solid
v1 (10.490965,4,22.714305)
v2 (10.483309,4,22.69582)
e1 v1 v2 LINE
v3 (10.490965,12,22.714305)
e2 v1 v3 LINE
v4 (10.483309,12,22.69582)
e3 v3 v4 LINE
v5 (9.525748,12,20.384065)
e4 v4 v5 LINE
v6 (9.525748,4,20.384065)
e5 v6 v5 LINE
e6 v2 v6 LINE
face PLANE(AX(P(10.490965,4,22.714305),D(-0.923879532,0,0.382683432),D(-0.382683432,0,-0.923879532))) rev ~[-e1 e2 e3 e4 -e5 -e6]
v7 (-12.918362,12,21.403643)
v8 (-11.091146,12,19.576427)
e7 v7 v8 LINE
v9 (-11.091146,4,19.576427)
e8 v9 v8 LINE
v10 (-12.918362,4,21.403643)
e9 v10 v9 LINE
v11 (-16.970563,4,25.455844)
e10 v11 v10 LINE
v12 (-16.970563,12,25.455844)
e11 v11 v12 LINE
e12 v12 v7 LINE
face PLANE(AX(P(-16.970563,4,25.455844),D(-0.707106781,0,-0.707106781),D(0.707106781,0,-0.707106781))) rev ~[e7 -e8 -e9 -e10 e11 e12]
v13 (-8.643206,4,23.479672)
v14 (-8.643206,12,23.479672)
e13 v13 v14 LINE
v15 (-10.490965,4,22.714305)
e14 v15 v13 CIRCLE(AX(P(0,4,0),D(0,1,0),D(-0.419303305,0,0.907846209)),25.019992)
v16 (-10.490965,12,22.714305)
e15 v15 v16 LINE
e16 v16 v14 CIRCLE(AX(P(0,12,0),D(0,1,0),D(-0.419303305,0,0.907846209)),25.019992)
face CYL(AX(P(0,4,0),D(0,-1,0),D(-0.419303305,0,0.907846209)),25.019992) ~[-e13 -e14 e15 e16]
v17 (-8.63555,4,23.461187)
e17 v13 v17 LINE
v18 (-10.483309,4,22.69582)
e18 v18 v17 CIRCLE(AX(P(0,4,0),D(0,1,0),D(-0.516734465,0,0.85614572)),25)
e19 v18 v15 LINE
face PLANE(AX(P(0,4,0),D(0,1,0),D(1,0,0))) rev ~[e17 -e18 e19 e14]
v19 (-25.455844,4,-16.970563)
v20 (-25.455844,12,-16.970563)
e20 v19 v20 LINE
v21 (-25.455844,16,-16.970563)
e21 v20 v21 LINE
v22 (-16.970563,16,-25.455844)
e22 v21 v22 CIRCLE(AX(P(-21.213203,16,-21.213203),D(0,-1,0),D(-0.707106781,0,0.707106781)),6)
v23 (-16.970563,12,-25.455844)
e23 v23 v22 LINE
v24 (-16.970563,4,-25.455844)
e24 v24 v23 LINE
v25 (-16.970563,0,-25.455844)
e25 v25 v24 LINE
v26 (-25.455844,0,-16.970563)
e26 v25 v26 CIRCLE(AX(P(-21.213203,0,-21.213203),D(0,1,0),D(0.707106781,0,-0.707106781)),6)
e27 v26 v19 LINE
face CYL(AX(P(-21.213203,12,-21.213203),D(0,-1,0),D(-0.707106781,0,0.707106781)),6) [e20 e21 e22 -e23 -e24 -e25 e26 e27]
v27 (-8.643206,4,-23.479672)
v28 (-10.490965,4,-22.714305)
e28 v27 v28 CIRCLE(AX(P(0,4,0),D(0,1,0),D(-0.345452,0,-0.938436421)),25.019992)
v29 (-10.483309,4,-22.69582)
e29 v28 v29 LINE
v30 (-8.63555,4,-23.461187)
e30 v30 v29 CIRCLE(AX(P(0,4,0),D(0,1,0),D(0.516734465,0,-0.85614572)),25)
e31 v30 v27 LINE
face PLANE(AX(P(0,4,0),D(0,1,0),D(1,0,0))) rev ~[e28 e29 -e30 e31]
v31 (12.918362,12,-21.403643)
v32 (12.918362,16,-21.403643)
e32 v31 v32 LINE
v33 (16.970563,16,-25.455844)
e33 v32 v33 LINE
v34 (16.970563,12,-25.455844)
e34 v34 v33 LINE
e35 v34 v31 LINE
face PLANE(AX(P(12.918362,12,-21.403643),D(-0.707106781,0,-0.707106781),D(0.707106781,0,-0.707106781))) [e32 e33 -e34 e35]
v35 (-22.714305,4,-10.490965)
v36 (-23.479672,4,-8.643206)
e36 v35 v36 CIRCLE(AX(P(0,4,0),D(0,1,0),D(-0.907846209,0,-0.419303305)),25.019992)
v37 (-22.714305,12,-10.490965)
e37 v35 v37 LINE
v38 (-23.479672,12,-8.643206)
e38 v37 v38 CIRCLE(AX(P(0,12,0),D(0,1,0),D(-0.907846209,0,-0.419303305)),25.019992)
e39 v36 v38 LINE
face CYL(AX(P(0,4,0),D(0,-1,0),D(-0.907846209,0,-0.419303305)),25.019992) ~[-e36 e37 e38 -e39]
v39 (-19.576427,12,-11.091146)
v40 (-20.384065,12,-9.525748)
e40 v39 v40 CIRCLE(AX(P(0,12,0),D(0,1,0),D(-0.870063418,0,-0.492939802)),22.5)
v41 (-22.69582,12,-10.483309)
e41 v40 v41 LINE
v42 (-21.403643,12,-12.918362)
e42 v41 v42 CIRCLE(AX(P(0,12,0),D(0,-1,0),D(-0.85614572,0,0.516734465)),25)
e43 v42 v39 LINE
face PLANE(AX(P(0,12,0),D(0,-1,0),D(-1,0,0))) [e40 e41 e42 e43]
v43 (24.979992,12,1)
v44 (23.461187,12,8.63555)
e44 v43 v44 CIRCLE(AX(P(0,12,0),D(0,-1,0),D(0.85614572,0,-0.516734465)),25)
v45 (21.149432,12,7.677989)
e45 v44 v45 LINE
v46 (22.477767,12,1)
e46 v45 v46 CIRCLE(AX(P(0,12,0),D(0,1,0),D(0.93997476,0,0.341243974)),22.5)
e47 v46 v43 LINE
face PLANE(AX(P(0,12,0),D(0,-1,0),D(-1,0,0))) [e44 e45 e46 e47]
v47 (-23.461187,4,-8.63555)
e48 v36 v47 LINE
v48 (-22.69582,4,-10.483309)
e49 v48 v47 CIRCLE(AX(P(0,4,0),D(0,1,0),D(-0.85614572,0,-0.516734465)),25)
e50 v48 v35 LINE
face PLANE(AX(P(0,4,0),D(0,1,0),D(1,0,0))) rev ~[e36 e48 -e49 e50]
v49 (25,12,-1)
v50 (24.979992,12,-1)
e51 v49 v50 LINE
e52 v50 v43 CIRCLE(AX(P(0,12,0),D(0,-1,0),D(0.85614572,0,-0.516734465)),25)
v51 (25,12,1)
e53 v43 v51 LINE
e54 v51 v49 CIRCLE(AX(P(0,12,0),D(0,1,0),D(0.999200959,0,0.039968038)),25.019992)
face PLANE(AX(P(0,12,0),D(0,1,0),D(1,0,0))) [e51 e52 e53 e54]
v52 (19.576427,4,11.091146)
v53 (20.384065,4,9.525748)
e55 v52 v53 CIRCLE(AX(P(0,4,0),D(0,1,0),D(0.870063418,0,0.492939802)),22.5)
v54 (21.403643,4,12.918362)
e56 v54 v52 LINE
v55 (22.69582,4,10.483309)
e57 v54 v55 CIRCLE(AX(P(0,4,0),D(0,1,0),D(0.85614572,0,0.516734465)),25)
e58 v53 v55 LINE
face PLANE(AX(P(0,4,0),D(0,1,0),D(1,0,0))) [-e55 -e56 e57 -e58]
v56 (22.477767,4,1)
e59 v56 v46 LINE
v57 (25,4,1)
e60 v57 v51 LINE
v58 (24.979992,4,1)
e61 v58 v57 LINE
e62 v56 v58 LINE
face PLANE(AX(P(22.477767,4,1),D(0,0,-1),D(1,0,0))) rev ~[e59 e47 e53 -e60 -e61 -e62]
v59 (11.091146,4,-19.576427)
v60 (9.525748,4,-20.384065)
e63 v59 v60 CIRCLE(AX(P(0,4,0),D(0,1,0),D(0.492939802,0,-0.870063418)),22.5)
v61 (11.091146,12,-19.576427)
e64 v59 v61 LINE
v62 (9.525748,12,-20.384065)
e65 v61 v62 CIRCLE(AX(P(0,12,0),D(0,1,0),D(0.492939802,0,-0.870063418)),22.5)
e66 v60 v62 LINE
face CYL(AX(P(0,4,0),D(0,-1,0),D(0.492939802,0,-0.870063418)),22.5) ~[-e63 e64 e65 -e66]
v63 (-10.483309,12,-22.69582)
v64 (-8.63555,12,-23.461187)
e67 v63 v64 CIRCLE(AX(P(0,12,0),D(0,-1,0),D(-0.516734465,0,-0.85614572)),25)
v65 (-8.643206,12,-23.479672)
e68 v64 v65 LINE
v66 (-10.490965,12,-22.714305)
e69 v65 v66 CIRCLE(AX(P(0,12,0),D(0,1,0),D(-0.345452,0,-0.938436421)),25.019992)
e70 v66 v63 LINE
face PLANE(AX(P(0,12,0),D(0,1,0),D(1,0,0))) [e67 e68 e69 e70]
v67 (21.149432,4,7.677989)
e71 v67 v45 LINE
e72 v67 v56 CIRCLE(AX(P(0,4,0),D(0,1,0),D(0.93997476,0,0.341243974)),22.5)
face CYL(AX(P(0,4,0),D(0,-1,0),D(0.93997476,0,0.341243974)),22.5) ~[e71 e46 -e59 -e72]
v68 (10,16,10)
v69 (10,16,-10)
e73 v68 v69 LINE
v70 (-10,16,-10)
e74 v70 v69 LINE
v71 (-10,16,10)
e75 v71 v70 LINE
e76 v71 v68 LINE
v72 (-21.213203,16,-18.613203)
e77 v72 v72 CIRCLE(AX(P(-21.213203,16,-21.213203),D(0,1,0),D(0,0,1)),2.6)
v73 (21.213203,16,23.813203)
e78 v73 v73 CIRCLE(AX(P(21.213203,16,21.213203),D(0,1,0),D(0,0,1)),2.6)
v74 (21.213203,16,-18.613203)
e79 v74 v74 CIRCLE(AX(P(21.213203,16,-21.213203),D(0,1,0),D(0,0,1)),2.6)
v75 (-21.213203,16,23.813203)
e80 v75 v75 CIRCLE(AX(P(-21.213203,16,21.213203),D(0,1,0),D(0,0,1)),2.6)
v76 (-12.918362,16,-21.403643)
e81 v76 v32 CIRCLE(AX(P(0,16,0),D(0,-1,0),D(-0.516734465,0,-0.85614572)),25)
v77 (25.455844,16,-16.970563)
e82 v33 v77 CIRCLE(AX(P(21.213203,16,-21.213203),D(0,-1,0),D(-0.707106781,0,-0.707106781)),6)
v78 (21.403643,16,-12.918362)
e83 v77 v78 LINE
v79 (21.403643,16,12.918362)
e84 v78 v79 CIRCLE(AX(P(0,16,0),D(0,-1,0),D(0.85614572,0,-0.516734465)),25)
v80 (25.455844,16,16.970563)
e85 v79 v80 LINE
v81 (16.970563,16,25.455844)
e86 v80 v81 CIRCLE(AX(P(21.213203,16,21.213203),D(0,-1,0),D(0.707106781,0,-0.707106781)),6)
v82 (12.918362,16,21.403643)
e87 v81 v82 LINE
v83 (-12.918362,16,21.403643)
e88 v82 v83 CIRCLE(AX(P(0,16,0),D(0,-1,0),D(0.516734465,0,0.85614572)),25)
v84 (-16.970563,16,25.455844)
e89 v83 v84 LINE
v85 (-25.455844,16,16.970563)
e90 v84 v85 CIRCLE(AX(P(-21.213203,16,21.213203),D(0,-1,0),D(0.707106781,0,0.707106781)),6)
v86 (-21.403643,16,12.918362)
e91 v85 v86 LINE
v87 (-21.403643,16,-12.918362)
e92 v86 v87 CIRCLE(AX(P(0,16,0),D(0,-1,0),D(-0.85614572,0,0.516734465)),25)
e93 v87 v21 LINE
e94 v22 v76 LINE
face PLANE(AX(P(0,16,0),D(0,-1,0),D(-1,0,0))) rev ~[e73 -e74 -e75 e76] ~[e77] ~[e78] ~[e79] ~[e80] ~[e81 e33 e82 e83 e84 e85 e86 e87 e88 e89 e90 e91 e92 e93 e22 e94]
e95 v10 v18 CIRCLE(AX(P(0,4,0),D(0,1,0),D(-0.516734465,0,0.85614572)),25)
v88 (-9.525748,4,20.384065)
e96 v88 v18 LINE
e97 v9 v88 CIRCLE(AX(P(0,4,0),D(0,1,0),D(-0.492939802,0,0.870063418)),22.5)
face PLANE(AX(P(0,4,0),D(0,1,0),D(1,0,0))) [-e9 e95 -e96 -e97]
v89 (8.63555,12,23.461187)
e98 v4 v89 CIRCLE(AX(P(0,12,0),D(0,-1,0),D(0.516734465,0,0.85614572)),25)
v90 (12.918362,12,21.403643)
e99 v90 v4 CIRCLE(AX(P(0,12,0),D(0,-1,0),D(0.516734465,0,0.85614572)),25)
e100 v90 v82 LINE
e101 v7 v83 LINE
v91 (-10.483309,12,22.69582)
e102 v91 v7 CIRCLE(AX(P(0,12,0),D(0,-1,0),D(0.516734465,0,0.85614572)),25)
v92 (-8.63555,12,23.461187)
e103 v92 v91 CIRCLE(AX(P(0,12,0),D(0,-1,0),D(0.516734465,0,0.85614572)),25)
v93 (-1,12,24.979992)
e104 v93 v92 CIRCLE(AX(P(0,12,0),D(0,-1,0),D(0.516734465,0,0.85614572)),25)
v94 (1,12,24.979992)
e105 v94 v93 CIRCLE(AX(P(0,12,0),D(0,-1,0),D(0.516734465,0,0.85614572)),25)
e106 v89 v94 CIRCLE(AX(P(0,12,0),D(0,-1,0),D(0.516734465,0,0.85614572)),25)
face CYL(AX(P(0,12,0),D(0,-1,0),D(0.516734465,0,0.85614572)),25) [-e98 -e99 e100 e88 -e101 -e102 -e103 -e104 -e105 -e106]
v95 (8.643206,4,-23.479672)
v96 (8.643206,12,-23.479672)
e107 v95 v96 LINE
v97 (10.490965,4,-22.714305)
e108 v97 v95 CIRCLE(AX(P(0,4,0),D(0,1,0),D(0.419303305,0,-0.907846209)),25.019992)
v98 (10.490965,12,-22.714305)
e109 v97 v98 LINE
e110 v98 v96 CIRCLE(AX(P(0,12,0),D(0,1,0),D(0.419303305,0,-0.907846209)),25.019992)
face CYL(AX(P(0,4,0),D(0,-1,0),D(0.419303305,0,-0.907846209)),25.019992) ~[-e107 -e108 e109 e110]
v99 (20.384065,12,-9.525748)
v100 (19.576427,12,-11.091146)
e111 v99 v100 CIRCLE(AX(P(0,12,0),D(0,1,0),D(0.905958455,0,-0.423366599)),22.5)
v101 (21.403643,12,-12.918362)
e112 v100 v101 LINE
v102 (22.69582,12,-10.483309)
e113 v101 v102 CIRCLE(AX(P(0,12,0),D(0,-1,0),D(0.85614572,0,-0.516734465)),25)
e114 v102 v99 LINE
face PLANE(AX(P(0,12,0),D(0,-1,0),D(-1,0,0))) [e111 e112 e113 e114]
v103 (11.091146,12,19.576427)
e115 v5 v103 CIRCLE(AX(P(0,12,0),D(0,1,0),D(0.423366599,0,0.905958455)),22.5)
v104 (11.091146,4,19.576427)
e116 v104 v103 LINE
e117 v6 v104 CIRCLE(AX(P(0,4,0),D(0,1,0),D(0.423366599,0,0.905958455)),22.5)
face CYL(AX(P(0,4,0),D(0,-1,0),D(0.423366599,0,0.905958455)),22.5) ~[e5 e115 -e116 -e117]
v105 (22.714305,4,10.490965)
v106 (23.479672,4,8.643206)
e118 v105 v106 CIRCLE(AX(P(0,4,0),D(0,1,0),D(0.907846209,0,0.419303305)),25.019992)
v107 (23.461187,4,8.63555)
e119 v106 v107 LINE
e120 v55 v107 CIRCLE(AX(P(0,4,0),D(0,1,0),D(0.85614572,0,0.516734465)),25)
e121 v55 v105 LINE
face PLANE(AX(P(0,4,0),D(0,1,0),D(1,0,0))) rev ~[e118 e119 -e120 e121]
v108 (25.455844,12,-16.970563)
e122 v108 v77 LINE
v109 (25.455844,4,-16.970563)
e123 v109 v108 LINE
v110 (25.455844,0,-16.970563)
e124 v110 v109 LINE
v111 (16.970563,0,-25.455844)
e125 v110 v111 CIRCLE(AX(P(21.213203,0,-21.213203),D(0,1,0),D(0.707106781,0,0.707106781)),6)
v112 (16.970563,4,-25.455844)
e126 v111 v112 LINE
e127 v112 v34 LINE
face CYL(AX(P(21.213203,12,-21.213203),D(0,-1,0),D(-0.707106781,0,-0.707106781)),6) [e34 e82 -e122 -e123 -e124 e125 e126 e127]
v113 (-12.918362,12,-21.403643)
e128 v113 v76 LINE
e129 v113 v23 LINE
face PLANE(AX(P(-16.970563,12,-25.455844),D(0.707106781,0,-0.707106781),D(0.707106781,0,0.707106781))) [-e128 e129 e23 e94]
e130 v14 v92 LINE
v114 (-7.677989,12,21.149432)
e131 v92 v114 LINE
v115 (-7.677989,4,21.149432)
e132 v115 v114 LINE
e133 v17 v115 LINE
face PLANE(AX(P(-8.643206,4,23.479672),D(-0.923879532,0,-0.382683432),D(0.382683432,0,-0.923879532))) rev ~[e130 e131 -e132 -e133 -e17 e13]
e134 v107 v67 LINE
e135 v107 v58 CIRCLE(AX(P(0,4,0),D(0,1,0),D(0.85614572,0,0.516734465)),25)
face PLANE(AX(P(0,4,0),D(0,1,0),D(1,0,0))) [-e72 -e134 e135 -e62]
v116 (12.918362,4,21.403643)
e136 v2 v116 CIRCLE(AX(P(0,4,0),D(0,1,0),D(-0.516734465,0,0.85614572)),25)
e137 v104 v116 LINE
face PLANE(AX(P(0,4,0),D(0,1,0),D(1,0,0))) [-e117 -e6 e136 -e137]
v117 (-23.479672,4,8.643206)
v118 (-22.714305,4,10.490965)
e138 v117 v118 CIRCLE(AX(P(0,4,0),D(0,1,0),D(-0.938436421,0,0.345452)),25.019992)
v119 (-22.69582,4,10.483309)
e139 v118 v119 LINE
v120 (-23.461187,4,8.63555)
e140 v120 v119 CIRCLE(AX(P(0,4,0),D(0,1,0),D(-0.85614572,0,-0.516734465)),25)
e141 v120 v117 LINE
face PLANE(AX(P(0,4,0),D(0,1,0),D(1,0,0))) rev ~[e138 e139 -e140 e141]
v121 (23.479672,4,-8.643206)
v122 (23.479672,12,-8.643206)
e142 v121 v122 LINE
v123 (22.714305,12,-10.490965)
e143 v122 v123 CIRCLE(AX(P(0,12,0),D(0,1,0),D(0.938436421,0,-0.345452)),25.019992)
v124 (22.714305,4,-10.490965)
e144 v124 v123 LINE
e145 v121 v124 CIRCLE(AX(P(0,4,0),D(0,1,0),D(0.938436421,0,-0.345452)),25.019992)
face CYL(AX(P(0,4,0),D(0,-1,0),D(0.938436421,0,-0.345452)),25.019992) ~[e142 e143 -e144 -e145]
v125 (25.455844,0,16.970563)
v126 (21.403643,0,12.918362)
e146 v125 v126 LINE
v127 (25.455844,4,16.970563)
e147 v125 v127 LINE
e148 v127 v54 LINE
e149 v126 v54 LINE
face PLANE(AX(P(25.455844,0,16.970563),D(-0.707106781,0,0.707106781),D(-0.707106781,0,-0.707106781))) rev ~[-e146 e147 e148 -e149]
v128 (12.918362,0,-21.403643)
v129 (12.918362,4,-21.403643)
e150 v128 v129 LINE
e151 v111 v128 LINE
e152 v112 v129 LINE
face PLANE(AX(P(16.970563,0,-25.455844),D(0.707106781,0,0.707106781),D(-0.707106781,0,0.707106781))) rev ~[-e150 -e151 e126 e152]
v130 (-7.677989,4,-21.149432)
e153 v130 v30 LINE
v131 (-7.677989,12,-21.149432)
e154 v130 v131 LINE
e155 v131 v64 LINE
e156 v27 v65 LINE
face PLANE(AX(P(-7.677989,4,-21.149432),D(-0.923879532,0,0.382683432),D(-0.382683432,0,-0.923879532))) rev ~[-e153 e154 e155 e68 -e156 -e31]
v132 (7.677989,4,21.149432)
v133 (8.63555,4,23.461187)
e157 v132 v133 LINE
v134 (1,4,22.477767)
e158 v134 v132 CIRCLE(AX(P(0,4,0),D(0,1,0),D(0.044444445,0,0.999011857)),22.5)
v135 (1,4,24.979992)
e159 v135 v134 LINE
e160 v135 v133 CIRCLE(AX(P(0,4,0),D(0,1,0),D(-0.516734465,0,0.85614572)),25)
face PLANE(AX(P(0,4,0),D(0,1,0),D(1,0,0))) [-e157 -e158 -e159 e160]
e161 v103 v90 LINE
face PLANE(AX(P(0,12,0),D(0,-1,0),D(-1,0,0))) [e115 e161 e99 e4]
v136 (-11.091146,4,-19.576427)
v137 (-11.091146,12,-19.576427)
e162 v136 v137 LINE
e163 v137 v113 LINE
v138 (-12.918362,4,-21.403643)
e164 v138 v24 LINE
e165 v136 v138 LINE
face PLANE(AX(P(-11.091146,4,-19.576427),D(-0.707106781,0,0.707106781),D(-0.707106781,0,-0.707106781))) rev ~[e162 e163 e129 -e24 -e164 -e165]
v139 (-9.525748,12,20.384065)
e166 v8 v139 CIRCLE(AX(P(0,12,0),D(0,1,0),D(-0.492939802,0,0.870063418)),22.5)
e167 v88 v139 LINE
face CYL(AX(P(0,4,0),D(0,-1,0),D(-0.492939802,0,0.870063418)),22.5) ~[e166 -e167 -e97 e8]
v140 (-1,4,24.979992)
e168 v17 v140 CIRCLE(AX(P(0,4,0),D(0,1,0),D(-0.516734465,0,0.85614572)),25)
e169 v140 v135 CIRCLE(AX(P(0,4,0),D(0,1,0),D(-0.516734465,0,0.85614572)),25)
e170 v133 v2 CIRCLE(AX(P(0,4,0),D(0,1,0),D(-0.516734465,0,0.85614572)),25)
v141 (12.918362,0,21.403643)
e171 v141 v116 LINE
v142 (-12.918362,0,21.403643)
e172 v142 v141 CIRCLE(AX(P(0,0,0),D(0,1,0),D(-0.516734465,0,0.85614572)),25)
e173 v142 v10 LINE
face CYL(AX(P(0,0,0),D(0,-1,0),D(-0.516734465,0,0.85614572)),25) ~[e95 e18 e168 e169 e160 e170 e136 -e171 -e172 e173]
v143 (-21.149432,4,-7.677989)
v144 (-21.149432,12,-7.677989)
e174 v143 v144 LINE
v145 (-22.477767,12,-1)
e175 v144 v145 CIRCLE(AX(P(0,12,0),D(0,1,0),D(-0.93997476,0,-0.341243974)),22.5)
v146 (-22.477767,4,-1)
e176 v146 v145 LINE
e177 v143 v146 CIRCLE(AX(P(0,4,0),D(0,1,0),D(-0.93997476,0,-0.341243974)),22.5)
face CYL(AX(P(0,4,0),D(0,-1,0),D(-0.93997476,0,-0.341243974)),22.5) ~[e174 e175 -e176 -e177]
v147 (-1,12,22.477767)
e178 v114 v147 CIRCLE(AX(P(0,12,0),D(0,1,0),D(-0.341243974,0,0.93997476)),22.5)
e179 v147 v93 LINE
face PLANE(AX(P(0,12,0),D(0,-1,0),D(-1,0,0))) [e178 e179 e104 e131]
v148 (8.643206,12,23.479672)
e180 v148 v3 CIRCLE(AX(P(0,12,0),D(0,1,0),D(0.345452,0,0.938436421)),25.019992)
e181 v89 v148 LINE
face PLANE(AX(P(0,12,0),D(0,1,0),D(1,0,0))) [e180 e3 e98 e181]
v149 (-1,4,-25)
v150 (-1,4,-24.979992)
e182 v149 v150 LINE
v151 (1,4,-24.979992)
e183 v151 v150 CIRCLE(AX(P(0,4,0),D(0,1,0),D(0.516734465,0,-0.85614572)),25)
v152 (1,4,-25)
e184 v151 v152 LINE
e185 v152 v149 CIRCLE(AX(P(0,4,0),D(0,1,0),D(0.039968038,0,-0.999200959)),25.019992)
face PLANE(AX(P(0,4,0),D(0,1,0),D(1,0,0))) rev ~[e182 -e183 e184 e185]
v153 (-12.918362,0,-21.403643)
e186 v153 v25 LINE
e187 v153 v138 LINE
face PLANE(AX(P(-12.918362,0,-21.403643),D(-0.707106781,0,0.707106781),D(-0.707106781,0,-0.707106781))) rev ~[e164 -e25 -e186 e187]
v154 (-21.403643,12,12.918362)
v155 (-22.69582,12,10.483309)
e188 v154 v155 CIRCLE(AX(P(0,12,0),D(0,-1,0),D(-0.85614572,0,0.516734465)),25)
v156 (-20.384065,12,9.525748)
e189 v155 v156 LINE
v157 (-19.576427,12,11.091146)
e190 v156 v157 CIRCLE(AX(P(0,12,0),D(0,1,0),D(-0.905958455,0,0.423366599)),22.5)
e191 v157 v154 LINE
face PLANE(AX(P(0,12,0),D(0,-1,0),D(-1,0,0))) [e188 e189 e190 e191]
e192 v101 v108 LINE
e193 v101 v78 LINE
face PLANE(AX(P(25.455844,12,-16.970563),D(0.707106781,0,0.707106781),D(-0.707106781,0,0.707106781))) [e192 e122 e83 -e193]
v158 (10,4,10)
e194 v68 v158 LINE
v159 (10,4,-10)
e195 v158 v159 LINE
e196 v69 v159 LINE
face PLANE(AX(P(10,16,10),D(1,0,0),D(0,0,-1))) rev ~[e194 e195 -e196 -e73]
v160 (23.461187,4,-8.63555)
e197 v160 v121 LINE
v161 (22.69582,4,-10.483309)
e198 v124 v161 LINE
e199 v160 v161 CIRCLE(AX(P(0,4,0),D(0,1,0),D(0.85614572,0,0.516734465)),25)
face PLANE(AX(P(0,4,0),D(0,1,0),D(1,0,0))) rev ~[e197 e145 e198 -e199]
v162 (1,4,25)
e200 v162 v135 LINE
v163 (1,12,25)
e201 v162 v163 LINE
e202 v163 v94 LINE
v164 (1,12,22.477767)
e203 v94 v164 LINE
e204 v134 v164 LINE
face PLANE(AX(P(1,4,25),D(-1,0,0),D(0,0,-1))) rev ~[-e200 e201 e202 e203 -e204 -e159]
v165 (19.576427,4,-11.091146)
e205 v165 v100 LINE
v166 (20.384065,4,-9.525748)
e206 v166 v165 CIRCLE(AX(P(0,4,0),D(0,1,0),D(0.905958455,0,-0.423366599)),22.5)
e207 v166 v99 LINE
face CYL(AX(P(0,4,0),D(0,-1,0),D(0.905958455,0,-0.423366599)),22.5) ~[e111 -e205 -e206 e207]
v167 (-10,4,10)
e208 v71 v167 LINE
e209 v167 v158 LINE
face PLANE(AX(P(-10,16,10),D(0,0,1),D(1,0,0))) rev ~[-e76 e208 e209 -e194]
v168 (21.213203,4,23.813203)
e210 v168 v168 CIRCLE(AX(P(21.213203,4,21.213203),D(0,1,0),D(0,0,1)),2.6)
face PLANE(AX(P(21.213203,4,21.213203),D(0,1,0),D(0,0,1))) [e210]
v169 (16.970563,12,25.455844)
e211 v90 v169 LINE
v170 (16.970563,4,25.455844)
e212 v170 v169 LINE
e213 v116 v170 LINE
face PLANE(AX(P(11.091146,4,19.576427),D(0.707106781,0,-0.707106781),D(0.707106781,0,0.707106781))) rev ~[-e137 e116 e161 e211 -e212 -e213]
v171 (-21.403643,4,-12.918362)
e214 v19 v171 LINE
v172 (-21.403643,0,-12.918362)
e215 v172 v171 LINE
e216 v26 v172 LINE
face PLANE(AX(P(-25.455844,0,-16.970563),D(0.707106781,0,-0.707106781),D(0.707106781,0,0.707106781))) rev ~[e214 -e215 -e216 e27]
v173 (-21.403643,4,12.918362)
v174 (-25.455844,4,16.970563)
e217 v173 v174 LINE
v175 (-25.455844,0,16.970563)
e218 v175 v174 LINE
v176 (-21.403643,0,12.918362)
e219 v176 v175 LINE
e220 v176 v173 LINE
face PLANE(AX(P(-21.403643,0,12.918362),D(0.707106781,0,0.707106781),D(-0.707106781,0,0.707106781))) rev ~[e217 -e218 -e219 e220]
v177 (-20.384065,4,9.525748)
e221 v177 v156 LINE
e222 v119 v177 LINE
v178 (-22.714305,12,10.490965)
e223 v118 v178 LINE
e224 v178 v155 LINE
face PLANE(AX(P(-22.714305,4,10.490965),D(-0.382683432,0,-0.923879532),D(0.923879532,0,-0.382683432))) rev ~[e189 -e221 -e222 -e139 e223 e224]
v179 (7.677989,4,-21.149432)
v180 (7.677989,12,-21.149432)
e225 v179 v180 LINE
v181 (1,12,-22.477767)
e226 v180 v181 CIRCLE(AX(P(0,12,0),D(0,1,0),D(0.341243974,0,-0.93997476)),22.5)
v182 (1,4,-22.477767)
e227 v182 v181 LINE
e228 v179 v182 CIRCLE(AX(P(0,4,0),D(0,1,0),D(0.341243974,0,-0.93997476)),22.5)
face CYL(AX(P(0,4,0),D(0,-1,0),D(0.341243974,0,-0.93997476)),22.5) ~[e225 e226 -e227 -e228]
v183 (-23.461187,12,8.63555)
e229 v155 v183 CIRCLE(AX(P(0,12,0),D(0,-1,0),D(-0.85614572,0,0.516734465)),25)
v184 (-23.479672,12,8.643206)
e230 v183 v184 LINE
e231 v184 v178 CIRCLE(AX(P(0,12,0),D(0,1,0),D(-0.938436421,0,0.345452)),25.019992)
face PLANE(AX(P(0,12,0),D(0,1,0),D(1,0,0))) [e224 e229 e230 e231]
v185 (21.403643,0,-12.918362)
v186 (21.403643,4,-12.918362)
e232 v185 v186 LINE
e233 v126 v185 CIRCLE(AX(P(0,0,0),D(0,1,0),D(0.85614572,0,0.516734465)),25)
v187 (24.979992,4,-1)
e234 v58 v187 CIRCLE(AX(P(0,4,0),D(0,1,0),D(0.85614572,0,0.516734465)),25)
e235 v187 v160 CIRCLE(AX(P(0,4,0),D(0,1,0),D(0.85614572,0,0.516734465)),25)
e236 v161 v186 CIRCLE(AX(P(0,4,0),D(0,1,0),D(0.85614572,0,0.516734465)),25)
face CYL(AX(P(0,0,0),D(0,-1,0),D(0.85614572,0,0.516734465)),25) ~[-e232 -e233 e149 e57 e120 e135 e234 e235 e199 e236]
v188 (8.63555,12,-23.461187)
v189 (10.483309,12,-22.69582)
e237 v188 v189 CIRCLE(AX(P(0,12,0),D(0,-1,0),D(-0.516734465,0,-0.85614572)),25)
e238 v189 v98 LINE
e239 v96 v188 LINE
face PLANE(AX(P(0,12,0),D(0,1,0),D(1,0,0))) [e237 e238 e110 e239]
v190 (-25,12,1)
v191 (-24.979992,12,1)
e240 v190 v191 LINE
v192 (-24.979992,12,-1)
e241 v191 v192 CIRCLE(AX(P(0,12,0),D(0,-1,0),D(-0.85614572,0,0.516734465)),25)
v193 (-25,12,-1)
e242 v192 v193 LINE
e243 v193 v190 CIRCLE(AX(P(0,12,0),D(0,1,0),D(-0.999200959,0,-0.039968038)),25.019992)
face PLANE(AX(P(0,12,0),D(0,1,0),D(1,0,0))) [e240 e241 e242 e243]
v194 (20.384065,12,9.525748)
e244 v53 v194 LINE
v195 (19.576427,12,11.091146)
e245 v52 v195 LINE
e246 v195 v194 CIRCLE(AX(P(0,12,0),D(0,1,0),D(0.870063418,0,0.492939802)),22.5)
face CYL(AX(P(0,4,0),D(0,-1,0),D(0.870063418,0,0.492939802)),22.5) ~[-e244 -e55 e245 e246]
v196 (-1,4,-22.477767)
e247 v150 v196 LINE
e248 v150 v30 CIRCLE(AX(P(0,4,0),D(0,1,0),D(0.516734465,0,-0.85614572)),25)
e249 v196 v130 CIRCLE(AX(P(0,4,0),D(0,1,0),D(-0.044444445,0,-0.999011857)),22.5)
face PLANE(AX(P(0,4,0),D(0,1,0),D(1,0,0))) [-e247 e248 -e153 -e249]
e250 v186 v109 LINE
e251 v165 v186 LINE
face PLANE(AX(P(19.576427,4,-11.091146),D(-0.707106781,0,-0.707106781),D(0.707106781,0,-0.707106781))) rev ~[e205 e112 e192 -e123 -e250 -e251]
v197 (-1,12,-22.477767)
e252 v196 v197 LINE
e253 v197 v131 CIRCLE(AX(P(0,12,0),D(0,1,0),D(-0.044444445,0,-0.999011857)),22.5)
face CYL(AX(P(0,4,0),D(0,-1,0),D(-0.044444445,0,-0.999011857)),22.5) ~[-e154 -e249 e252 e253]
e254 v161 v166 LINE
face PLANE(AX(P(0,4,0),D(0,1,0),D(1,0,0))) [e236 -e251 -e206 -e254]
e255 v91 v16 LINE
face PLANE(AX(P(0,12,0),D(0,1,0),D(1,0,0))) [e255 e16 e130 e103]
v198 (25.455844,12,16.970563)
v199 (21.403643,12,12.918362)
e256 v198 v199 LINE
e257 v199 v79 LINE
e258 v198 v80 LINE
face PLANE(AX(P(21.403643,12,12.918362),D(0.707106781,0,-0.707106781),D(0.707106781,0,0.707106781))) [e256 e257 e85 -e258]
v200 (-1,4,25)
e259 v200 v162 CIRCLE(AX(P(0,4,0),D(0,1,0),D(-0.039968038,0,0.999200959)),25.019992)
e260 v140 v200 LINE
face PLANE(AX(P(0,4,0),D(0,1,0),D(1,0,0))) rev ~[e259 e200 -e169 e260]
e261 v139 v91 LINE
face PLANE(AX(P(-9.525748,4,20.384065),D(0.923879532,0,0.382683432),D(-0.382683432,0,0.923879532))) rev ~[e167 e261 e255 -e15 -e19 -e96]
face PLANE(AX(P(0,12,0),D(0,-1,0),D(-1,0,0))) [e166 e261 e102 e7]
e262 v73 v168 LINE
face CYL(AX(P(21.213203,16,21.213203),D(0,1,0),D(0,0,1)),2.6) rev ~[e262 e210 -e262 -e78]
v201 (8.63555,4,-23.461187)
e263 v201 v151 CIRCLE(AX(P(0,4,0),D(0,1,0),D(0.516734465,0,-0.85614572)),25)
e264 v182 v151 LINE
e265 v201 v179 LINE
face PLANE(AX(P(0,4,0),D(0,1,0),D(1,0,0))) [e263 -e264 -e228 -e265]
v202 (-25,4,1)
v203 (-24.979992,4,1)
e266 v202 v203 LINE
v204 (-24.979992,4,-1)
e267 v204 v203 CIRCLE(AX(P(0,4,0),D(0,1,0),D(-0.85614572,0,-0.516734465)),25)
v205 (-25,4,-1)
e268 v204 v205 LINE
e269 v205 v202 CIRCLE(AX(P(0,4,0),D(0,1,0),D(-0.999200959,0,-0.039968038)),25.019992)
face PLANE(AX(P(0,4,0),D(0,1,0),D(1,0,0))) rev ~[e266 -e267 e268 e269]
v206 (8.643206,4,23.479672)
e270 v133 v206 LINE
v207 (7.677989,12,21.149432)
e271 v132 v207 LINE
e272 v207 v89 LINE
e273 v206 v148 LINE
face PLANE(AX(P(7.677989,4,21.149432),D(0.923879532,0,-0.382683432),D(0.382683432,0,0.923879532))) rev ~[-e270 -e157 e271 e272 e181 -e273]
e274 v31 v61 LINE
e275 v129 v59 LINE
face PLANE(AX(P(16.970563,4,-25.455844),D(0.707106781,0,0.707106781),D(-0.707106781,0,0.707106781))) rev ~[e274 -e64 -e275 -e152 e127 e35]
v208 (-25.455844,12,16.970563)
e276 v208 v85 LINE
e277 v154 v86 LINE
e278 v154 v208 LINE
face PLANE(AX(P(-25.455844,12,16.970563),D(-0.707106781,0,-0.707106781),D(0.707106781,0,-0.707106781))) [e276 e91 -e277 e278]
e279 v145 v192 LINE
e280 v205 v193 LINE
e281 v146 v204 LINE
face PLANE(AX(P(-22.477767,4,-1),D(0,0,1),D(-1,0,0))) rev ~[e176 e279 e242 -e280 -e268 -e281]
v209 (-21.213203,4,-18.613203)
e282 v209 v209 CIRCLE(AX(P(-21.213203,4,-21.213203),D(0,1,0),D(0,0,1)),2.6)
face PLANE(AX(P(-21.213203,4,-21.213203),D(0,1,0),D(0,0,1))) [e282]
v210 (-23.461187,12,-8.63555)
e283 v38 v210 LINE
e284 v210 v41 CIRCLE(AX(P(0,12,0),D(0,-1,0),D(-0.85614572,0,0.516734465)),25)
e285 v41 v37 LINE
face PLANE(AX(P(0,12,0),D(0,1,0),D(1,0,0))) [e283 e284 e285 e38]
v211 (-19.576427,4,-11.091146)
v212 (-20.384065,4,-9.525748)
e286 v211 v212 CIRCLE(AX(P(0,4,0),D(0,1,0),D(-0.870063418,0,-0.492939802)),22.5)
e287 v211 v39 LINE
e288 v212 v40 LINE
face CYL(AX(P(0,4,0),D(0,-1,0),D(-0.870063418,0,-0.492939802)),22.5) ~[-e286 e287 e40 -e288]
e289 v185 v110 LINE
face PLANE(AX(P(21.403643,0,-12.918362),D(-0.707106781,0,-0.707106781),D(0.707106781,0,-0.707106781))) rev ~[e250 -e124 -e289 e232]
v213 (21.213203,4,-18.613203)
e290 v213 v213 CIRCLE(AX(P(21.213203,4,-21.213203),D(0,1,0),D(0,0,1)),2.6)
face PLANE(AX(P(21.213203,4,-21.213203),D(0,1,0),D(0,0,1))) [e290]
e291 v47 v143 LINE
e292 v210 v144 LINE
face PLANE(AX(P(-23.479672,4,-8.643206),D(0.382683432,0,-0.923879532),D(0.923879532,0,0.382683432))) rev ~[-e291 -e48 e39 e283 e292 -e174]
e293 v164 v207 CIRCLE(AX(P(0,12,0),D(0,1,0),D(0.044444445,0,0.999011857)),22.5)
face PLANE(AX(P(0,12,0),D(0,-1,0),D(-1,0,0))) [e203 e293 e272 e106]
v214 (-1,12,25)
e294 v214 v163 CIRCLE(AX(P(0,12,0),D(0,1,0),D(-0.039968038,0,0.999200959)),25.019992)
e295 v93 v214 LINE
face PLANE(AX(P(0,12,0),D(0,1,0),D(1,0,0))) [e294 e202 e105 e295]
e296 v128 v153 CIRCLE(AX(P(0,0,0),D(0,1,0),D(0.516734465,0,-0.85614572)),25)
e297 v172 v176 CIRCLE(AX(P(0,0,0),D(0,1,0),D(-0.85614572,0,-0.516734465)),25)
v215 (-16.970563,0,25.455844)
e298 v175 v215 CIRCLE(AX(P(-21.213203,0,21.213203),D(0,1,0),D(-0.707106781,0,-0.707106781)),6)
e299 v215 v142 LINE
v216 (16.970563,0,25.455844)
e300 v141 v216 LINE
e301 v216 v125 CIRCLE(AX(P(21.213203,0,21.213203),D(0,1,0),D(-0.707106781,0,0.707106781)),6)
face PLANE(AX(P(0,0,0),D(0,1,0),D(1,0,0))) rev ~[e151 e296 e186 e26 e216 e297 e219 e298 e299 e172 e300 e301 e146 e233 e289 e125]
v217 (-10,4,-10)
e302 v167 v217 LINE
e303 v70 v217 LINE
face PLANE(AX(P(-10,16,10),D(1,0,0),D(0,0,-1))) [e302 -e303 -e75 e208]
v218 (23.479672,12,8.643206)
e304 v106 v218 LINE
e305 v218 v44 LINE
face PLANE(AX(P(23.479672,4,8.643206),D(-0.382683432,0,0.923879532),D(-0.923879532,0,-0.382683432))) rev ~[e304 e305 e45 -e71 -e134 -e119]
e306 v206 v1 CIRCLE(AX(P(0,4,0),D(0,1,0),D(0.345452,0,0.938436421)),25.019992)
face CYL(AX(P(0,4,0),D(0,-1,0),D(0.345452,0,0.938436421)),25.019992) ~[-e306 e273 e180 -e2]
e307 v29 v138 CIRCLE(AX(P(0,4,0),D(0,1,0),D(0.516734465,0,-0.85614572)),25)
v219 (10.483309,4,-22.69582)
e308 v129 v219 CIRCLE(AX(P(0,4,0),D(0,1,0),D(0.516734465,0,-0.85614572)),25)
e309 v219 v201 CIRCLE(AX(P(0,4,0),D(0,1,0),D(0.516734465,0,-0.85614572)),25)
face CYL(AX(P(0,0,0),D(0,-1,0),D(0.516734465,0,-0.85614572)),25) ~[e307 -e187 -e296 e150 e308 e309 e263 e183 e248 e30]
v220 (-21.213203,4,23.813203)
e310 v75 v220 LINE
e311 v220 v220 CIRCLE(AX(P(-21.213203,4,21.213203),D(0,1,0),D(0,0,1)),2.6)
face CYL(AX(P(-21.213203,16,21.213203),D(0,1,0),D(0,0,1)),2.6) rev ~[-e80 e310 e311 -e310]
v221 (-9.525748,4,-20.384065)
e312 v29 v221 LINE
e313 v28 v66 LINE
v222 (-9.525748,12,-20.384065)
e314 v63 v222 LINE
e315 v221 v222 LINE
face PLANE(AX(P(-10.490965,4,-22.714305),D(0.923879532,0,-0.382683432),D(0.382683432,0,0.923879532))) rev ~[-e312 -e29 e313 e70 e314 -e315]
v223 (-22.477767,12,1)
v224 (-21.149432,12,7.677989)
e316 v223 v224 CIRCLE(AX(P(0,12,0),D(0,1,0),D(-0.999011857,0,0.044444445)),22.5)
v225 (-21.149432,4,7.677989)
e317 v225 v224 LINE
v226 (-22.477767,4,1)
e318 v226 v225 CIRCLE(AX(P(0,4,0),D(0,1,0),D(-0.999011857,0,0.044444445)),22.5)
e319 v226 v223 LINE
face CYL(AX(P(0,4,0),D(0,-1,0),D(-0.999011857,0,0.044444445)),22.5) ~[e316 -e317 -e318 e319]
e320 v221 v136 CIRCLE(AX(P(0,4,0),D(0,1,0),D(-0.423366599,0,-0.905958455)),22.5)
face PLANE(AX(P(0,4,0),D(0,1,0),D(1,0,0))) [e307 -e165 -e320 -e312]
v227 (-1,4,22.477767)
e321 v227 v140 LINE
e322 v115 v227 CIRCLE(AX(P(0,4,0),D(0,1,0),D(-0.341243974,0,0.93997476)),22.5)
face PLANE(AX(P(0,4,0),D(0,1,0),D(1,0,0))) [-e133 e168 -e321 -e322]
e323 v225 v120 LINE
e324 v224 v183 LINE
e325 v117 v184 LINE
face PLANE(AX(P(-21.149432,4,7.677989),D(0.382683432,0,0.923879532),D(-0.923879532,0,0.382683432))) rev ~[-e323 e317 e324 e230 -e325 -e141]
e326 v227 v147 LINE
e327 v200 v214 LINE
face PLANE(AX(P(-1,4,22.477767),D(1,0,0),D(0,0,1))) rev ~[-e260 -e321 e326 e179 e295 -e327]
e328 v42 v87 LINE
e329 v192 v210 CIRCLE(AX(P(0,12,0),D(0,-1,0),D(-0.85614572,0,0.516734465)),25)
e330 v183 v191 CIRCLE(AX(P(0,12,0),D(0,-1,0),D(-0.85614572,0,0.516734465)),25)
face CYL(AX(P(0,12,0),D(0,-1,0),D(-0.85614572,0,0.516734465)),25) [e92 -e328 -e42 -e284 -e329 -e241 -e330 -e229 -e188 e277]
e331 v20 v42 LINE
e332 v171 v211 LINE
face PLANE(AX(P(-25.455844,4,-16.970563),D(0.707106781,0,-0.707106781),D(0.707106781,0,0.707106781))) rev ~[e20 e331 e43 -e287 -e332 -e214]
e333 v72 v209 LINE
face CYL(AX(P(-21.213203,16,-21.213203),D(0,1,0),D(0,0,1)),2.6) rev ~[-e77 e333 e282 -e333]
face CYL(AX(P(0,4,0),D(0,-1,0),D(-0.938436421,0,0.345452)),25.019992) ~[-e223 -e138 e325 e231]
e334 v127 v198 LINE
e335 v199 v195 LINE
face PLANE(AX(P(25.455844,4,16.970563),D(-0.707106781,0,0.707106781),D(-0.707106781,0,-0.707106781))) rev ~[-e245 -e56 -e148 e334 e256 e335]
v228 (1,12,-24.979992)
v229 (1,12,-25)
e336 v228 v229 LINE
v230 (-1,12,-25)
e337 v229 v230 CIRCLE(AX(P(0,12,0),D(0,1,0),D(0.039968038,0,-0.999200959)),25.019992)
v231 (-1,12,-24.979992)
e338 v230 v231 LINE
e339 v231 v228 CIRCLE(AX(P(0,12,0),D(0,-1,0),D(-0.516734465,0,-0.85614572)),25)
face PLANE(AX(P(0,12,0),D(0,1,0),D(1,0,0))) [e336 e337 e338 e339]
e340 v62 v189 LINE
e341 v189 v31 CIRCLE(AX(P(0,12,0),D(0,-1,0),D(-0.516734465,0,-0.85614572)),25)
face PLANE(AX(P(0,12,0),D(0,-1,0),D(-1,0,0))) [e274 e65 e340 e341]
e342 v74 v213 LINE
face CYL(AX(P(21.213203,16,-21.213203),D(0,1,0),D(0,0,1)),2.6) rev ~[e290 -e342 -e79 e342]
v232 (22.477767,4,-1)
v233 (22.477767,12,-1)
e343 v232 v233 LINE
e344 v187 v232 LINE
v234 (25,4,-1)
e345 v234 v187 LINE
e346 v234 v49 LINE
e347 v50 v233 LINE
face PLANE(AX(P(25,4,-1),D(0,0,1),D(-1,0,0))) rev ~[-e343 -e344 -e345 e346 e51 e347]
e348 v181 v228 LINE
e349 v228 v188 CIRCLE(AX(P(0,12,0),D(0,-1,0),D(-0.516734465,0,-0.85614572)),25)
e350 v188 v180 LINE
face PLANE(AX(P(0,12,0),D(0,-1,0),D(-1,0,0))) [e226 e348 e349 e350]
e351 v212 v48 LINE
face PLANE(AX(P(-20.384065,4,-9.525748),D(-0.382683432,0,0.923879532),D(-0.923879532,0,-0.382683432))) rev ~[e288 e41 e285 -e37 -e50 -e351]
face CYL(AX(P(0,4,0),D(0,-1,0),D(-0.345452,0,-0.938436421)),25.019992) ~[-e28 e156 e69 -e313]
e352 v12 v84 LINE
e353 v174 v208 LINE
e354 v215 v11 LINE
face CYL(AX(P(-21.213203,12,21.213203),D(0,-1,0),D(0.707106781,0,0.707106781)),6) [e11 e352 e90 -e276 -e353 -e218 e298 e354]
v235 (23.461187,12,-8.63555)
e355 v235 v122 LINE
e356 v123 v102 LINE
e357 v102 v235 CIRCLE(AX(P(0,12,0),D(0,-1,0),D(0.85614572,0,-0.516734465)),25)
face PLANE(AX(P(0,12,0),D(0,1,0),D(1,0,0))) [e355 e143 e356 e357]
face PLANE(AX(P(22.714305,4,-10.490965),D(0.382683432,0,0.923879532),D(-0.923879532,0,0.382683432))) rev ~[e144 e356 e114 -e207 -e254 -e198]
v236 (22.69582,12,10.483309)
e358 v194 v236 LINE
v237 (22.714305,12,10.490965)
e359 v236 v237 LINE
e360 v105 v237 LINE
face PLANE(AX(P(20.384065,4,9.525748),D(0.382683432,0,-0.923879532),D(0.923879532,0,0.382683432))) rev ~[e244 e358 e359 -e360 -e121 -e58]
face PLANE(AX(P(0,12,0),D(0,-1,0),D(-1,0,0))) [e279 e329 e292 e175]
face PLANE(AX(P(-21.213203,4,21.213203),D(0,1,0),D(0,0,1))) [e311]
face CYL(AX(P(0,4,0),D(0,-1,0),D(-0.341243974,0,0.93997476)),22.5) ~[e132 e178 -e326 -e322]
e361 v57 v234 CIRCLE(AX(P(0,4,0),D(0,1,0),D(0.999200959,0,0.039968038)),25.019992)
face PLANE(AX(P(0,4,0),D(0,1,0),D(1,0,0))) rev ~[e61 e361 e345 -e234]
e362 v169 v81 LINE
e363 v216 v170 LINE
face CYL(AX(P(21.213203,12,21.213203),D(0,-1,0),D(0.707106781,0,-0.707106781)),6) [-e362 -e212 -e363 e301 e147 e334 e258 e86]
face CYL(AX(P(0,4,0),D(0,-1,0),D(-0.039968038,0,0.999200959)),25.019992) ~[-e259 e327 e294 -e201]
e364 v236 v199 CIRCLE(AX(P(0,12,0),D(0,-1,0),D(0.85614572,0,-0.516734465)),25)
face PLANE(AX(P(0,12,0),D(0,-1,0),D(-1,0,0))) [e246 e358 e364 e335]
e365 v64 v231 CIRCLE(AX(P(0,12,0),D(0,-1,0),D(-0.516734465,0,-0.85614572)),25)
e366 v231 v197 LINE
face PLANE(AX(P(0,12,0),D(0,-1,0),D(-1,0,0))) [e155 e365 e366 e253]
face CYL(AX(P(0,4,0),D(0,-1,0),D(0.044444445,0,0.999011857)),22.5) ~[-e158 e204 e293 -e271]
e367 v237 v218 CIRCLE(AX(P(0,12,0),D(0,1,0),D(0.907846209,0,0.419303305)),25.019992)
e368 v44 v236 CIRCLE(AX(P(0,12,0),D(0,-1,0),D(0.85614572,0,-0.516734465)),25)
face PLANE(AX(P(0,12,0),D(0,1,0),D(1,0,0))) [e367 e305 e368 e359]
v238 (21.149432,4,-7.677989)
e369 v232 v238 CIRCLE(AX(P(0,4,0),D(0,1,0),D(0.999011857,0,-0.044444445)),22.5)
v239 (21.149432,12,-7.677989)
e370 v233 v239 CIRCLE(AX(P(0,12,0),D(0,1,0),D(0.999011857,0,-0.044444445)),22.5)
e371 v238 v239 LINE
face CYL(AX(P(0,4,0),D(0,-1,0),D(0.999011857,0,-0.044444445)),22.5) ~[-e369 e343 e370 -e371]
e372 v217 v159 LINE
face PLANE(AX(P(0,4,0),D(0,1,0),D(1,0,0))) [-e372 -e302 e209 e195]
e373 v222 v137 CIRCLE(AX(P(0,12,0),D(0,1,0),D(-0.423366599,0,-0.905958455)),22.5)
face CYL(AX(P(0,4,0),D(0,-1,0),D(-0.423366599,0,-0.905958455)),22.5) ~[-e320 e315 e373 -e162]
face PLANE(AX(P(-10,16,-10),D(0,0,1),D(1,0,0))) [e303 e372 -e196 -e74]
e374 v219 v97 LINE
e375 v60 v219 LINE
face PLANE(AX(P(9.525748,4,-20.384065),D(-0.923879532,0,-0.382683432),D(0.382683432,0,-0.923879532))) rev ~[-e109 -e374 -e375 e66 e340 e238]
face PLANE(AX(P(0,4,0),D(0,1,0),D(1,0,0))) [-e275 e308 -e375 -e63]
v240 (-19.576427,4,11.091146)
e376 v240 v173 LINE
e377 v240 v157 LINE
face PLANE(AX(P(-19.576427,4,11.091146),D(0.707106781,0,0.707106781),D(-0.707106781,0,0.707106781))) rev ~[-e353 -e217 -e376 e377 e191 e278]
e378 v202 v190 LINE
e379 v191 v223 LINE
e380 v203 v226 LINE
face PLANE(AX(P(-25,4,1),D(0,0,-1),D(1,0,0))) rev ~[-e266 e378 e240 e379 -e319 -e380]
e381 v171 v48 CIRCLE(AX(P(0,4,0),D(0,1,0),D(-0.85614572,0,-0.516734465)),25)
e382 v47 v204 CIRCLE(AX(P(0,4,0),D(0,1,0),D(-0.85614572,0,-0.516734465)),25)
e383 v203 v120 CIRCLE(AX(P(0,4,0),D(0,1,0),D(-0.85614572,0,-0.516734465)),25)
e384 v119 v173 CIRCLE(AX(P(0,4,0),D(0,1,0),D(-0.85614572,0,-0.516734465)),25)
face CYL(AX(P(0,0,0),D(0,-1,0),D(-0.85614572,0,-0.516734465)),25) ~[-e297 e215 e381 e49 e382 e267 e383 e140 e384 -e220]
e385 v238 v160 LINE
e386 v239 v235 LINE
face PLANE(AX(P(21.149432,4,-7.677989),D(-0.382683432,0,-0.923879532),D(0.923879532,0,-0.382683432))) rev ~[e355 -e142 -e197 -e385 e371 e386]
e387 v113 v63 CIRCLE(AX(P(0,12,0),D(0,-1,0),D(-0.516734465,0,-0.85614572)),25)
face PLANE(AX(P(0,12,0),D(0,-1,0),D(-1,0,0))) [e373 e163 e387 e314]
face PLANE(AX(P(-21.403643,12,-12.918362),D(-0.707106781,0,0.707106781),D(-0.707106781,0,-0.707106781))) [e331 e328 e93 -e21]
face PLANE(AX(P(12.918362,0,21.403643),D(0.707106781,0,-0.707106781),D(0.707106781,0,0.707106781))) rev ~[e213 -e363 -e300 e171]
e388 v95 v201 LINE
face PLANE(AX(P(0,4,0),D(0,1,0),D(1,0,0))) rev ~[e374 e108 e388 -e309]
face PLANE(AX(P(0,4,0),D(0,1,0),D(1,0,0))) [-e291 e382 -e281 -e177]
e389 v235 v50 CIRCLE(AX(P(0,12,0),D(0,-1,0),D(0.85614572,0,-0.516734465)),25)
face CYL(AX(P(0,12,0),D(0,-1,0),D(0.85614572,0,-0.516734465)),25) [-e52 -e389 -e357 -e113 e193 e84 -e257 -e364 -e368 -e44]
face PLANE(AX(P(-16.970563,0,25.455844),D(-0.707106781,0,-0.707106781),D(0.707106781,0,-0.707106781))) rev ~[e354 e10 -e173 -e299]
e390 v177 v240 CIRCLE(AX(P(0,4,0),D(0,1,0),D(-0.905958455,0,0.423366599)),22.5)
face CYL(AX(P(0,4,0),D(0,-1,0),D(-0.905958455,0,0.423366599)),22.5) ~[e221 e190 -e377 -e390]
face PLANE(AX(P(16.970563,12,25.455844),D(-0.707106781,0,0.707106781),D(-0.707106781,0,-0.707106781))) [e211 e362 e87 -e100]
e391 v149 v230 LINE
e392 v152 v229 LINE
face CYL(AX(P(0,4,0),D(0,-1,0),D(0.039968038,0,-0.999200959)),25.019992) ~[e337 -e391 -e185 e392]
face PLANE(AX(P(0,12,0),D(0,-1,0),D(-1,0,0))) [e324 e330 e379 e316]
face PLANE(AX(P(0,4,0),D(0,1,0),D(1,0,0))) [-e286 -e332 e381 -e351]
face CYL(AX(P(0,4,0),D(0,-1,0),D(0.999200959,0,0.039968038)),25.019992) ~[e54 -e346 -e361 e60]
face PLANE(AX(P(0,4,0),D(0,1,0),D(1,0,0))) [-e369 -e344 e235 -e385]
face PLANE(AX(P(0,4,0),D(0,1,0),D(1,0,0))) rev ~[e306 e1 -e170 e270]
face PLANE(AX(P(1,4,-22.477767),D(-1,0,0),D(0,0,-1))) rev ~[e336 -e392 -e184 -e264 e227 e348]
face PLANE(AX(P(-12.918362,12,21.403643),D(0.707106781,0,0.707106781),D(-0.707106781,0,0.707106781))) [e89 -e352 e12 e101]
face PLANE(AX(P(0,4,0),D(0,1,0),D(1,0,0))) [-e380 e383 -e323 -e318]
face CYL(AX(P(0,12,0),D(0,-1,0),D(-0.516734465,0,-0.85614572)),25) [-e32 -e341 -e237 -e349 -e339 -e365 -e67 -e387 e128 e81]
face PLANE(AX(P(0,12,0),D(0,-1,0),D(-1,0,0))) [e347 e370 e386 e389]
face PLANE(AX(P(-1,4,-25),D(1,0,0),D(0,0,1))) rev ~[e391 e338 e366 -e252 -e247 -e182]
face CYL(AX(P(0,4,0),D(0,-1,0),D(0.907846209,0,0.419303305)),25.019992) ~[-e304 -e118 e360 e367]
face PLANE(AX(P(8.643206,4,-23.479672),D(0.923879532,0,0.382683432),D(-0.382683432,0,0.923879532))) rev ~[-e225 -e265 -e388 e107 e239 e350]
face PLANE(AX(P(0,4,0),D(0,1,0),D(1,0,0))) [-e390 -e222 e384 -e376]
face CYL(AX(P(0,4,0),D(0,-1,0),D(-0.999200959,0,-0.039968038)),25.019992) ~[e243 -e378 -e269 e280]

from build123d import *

# Parameters (mm, degrees)
BOSS_EXTRUDE1_DEPTH = 4
BOSS_EXTRUDE2_DEPTH = 8
BOSS_EXTRUDE3_DEPTH = 4
SKETCH4_R           = 2.6
CUT_EXTRUDE1_DEPTH  = 12
SKETCH5_W           = 20
SKETCH5_H           = 20
CUT_EXTRUDE2_DEPTH  = 12


with BuildPart() as part:
    # Sketch1 → Boss-Extrude1 (new body)
    with BuildSketch(Plane(origin=(0, 0, 0), x_dir=(1, 0, 0), z_dir=(0, 1, 0))):
        with BuildLine():
            Line((21.403642989, 12.918361615), (25.455844123, 16.970562748))
            ThreePointArc((25.455844123, 16.970562748), (25.455844123, 25.455844123), (16.970562748, 25.455844123))
            Line((16.970562748, 25.455844123), (12.918361615, 21.403642989))
            ThreePointArc((12.918361615, 21.403642989), (0, 25), (-12.918361615, 21.403642989))
            Line((-12.918361615, 21.403642989), (-16.970562748, 25.455844123))
            ThreePointArc((-16.970562748, 25.455844123), (-25.455844123, 25.455844123), (-25.455844123, 16.970562748))
            Line((-25.455844123, 16.970562748), (-21.403642989, 12.918361615))
            ThreePointArc((-21.403642989, 12.918361615), (-25, 0), (-21.403642989, -12.918361615))
            Line((-21.403642989, -12.918361615), (-25.455844123, -16.970562748))
            ThreePointArc((-25.455844123, -16.970562748), (-25.455844123, -25.455844123), (-16.970562748, -25.455844123))
            Line((-16.970562748, -25.455844123), (-12.918361615, -21.403642989))
            ThreePointArc((-12.918361615, -21.403642989), (0, -25), (12.918361615, -21.403642989))
            Line((12.918361615, -21.403642989), (16.970562748, -25.455844123))
            ThreePointArc((16.970562748, -25.455844123), (25.455844123, -25.455844123), (25.455844123, -16.970562748))
            Line((25.455844123, -16.970562748), (21.403642989, -12.918361615))
            ThreePointArc((21.403642989, -12.918361615), (25, 0), (21.403642989, 12.918361615))
        make_face()
    extrude(amount=BOSS_EXTRUDE1_DEPTH)

    # Sketch2 → Boss-Extrude2 (add)
    with BuildSketch(Plane(origin=(0, 4, 0), x_dir=(1, 0, 0), z_dir=(0, 1, 0))):
        with BuildLine():
            Line((-1, 25), (-1, 22.477766793))
            ThreePointArc((-1, 22.477766793), (-4.389532245, 22.067668809), (-7.677989416, 21.149432109))
            Line((-7.677989416, 21.149432109), (-8.643206277, 23.479671745))
            ThreePointArc((-8.643206277, 23.479671745), (-9.574736419, 23.115458518), (-10.490965342, 22.71430488))
            Line((-10.490965342, 22.71430488), (-9.525748481, 20.384065244))
            ThreePointArc((-9.525748481, 20.384065244), (-10.316353506, 19.995570768), (-11.091145538, 19.576426912))
            Line((-11.091145538, 19.576426912), (-16.970562748, 25.455844123))
            ThreePointArc((-16.970562748, 25.455844123), (-25.455844123, 25.455844123), (-25.455844123, 16.970562748))
            Line((-25.455844123, 16.970562748), (-19.576426912, 11.091145538))
            ThreePointArc((-19.576426912, 11.091145538), (-19.995570768, 10.316353506), (-20.384065244, 9.525748481))
            Line((-20.384065244, 9.525748481), (-22.71430488, 10.490965342))
            ThreePointArc((-22.71430488, 10.490965342), (-23.115458518, 9.574736419), (-23.479671745, 8.643206277))
            Line((-23.479671745, 8.643206277), (-21.149432109, 7.677989416))
            ThreePointArc((-21.149432109, 7.677989416), (-22.067668809, 4.389532245), (-22.477766793, 1))
            Line((-22.477766793, 1), (-25, 1))
            ThreePointArc((-25, 1), (-25.019992006, 0), (-25, -1))
            Line((-25, -1), (-22.477766793, -1))
            ThreePointArc((-22.477766793, -1), (-22.067668809, -4.389532245), (-21.149432109, -7.677989416))
            Line((-21.149432109, -7.677989416), (-23.479671745, -8.643206277))
            ThreePointArc((-23.479671745, -8.643206277), (-23.115458518, -9.574736419), (-22.71430488, -10.490965342))
            Line((-22.71430488, -10.490965342), (-20.384065244, -9.525748481))
            ThreePointArc((-20.384065244, -9.525748481), (-19.995570768, -10.316353506), (-19.576426912, -11.091145538))
            Line((-19.576426912, -11.091145538), (-25.455844123, -16.970562748))
            ThreePointArc((-25.455844123, -16.970562748), (-25.455844123, -25.455844123), (-16.970562748, -25.455844123))
            Line((-16.970562748, -25.455844123), (-11.091145538, -19.576426912))
            ThreePointArc((-11.091145538, -19.576426912), (-10.316353506, -19.995570768), (-9.525748481, -20.384065244))
            Line((-9.525748481, -20.384065244), (-10.490965342, -22.71430488))
            ThreePointArc((-10.490965342, -22.71430488), (-9.574736419, -23.115458518), (-8.643206277, -23.479671745))
            Line((-8.643206277, -23.479671745), (-7.677989416, -21.149432109))
            ThreePointArc((-7.677989416, -21.149432109), (-4.389532245, -22.067668809), (-1, -22.477766793))
            Line((-1, -22.477766793), (-1, -25))
            ThreePointArc((-1, -25), (0, -25.019992006), (1, -25))
            Line((1, -25), (1, -22.477766793))
            ThreePointArc((1, -22.477766793), (4.389532245, -22.067668809), (7.677989416, -21.149432109))
            Line((7.677989416, -21.149432109), (8.643206277, -23.479671745))
            ThreePointArc((8.643206277, -23.479671745), (9.574736419, -23.115458518), (10.490965342, -22.71430488))
            Line((10.490965342, -22.71430488), (9.525748481, -20.384065244))
            ThreePointArc((9.525748481, -20.384065244), (10.316353506, -19.995570768), (11.091145538, -19.576426912))
            Line((11.091145538, -19.576426912), (16.970562748, -25.455844123))
            ThreePointArc((16.970562748, -25.455844123), (25.455844123, -25.455844123), (25.455844123, -16.970562748))
            Line((25.455844123, -16.970562748), (19.576426912, -11.091145538))
            ThreePointArc((19.576426912, -11.091145538), (19.995570768, -10.316353506), (20.384065244, -9.525748481))
            Line((20.384065244, -9.525748481), (22.71430488, -10.490965342))
            ThreePointArc((22.71430488, -10.490965342), (23.115458518, -9.574736419), (23.479671745, -8.643206277))
            Line((23.479671745, -8.643206277), (21.149432109, -7.677989416))
            ThreePointArc((21.149432109, -7.677989416), (22.067668809, -4.389532245), (22.477766793, -1))
            Line((22.477766793, -1), (25, -1))
            ThreePointArc((25, -1), (25.019992006, 0), (25, 1))
            Line((25, 1), (22.477766793, 1))
            ThreePointArc((22.477766793, 1), (22.067668809, 4.389532245), (21.149432109, 7.677989416))
            Line((21.149432109, 7.677989416), (23.479671745, 8.643206277))
            ThreePointArc((23.479671745, 8.643206277), (23.115458518, 9.574736419), (22.71430488, 10.490965342))
            Line((22.71430488, 10.490965342), (20.384065244, 9.525748481))
            ThreePointArc((20.384065244, 9.525748481), (19.995570768, 10.316353506), (19.576426912, 11.091145538))
            Line((19.576426912, 11.091145538), (25.455844123, 16.970562748))
            ThreePointArc((25.455844123, 16.970562748), (25.455844123, 25.455844123), (16.970562748, 25.455844123))
            Line((16.970562748, 25.455844123), (11.091145538, 19.576426912))
            ThreePointArc((11.091145538, 19.576426912), (10.316353506, 19.995570768), (9.525748481, 20.384065244))
            Line((9.525748481, 20.384065244), (10.490965342, 22.71430488))
            ThreePointArc((10.490965342, 22.71430488), (9.574736419, 23.115458518), (8.643206277, 23.479671745))
            Line((8.643206277, 23.479671745), (7.677989416, 21.149432109))
            ThreePointArc((7.677989416, 21.149432109), (4.389532245, 22.067668809), (1, 22.477766793))
            Line((1, 22.477766793), (1, 25))
            ThreePointArc((1, 25), (0, 25.019992006), (-1, 25))
        make_face()
    extrude(amount=BOSS_EXTRUDE2_DEPTH)

    # Sketch3 → Boss-Extrude3 (add)
    with BuildSketch(Plane(origin=(0, 12, 0), x_dir=(1, 0, 0), z_dir=(0, 1, 0))):
        with BuildLine():
            Line((21.403642989, -12.918361615), (25.455844123, -16.970562748))
            ThreePointArc((25.455844123, -16.970562748), (25.455844123, -25.455844123), (16.970562748, -25.455844123))
            Line((16.970562748, -25.455844123), (12.918361615, -21.403642989))
            ThreePointArc((12.918361615, -21.403642989), (0, -25), (-12.918361615, -21.403642989))
            Line((-12.918361615, -21.403642989), (-16.970562748, -25.455844123))
            ThreePointArc((-16.970562748, -25.455844123), (-25.455844123, -25.455844123), (-25.455844123, -16.970562748))
            Line((-25.455844123, -16.970562748), (-21.403642989, -12.918361615))
            ThreePointArc((-21.403642989, -12.918361615), (-25, 0), (-21.403642989, 12.918361615))
            Line((-21.403642989, 12.918361615), (-25.455844123, 16.970562748))
            ThreePointArc((-25.455844123, 16.970562748), (-25.455844123, 25.455844123), (-16.970562748, 25.455844123))
            Line((-16.970562748, 25.455844123), (-12.918361615, 21.403642989))
            ThreePointArc((-12.918361615, 21.403642989), (0, 25), (12.918361615, 21.403642989))
            Line((12.918361615, 21.403642989), (16.970562748, 25.455844123))
            ThreePointArc((16.970562748, 25.455844123), (25.455844123, 25.455844123), (25.455844123, 16.970562748))
            Line((25.455844123, 16.970562748), (21.403642989, 12.918361615))
            ThreePointArc((21.403642989, 12.918361615), (25, 0), (21.403642989, -12.918361615))
        make_face()
    extrude(amount=BOSS_EXTRUDE3_DEPTH)

    # Sketch4 → Cut-Extrude1 (cut)
    with BuildSketch(Plane(origin=(0, 16, 0), x_dir=(1, 0, 0), z_dir=(0, 1, 0))):
        with Locations(Location((-21.213203436, -21.213203436, 0), (0, 0, 270))):
            Circle(SKETCH4_R)
        with Locations(Location((-21.213203436, 21.213203436, 0), (0, 0, 270))):
            Circle(SKETCH4_R)
        with Locations(Location((21.213203436, 21.213203436, 0), (0, 0, 270))):
            Circle(SKETCH4_R)
        with Locations(Location((21.213203436, -21.213203436, 0), (0, 0, 270))):
            Circle(SKETCH4_R)
    extrude(amount=-CUT_EXTRUDE1_DEPTH, mode=Mode.SUBTRACT)

    # Sketch5 → Cut-Extrude2 (cut)
    with BuildSketch(Plane(origin=(0, 16, 0), x_dir=(1, 0, 0), z_dir=(0, 1, 0))):
        Rectangle(SKETCH5_W, SKETCH5_H)
    extrude(amount=-CUT_EXTRUDE2_DEPTH, mode=Mode.SUBTRACT)


solid = part.part
